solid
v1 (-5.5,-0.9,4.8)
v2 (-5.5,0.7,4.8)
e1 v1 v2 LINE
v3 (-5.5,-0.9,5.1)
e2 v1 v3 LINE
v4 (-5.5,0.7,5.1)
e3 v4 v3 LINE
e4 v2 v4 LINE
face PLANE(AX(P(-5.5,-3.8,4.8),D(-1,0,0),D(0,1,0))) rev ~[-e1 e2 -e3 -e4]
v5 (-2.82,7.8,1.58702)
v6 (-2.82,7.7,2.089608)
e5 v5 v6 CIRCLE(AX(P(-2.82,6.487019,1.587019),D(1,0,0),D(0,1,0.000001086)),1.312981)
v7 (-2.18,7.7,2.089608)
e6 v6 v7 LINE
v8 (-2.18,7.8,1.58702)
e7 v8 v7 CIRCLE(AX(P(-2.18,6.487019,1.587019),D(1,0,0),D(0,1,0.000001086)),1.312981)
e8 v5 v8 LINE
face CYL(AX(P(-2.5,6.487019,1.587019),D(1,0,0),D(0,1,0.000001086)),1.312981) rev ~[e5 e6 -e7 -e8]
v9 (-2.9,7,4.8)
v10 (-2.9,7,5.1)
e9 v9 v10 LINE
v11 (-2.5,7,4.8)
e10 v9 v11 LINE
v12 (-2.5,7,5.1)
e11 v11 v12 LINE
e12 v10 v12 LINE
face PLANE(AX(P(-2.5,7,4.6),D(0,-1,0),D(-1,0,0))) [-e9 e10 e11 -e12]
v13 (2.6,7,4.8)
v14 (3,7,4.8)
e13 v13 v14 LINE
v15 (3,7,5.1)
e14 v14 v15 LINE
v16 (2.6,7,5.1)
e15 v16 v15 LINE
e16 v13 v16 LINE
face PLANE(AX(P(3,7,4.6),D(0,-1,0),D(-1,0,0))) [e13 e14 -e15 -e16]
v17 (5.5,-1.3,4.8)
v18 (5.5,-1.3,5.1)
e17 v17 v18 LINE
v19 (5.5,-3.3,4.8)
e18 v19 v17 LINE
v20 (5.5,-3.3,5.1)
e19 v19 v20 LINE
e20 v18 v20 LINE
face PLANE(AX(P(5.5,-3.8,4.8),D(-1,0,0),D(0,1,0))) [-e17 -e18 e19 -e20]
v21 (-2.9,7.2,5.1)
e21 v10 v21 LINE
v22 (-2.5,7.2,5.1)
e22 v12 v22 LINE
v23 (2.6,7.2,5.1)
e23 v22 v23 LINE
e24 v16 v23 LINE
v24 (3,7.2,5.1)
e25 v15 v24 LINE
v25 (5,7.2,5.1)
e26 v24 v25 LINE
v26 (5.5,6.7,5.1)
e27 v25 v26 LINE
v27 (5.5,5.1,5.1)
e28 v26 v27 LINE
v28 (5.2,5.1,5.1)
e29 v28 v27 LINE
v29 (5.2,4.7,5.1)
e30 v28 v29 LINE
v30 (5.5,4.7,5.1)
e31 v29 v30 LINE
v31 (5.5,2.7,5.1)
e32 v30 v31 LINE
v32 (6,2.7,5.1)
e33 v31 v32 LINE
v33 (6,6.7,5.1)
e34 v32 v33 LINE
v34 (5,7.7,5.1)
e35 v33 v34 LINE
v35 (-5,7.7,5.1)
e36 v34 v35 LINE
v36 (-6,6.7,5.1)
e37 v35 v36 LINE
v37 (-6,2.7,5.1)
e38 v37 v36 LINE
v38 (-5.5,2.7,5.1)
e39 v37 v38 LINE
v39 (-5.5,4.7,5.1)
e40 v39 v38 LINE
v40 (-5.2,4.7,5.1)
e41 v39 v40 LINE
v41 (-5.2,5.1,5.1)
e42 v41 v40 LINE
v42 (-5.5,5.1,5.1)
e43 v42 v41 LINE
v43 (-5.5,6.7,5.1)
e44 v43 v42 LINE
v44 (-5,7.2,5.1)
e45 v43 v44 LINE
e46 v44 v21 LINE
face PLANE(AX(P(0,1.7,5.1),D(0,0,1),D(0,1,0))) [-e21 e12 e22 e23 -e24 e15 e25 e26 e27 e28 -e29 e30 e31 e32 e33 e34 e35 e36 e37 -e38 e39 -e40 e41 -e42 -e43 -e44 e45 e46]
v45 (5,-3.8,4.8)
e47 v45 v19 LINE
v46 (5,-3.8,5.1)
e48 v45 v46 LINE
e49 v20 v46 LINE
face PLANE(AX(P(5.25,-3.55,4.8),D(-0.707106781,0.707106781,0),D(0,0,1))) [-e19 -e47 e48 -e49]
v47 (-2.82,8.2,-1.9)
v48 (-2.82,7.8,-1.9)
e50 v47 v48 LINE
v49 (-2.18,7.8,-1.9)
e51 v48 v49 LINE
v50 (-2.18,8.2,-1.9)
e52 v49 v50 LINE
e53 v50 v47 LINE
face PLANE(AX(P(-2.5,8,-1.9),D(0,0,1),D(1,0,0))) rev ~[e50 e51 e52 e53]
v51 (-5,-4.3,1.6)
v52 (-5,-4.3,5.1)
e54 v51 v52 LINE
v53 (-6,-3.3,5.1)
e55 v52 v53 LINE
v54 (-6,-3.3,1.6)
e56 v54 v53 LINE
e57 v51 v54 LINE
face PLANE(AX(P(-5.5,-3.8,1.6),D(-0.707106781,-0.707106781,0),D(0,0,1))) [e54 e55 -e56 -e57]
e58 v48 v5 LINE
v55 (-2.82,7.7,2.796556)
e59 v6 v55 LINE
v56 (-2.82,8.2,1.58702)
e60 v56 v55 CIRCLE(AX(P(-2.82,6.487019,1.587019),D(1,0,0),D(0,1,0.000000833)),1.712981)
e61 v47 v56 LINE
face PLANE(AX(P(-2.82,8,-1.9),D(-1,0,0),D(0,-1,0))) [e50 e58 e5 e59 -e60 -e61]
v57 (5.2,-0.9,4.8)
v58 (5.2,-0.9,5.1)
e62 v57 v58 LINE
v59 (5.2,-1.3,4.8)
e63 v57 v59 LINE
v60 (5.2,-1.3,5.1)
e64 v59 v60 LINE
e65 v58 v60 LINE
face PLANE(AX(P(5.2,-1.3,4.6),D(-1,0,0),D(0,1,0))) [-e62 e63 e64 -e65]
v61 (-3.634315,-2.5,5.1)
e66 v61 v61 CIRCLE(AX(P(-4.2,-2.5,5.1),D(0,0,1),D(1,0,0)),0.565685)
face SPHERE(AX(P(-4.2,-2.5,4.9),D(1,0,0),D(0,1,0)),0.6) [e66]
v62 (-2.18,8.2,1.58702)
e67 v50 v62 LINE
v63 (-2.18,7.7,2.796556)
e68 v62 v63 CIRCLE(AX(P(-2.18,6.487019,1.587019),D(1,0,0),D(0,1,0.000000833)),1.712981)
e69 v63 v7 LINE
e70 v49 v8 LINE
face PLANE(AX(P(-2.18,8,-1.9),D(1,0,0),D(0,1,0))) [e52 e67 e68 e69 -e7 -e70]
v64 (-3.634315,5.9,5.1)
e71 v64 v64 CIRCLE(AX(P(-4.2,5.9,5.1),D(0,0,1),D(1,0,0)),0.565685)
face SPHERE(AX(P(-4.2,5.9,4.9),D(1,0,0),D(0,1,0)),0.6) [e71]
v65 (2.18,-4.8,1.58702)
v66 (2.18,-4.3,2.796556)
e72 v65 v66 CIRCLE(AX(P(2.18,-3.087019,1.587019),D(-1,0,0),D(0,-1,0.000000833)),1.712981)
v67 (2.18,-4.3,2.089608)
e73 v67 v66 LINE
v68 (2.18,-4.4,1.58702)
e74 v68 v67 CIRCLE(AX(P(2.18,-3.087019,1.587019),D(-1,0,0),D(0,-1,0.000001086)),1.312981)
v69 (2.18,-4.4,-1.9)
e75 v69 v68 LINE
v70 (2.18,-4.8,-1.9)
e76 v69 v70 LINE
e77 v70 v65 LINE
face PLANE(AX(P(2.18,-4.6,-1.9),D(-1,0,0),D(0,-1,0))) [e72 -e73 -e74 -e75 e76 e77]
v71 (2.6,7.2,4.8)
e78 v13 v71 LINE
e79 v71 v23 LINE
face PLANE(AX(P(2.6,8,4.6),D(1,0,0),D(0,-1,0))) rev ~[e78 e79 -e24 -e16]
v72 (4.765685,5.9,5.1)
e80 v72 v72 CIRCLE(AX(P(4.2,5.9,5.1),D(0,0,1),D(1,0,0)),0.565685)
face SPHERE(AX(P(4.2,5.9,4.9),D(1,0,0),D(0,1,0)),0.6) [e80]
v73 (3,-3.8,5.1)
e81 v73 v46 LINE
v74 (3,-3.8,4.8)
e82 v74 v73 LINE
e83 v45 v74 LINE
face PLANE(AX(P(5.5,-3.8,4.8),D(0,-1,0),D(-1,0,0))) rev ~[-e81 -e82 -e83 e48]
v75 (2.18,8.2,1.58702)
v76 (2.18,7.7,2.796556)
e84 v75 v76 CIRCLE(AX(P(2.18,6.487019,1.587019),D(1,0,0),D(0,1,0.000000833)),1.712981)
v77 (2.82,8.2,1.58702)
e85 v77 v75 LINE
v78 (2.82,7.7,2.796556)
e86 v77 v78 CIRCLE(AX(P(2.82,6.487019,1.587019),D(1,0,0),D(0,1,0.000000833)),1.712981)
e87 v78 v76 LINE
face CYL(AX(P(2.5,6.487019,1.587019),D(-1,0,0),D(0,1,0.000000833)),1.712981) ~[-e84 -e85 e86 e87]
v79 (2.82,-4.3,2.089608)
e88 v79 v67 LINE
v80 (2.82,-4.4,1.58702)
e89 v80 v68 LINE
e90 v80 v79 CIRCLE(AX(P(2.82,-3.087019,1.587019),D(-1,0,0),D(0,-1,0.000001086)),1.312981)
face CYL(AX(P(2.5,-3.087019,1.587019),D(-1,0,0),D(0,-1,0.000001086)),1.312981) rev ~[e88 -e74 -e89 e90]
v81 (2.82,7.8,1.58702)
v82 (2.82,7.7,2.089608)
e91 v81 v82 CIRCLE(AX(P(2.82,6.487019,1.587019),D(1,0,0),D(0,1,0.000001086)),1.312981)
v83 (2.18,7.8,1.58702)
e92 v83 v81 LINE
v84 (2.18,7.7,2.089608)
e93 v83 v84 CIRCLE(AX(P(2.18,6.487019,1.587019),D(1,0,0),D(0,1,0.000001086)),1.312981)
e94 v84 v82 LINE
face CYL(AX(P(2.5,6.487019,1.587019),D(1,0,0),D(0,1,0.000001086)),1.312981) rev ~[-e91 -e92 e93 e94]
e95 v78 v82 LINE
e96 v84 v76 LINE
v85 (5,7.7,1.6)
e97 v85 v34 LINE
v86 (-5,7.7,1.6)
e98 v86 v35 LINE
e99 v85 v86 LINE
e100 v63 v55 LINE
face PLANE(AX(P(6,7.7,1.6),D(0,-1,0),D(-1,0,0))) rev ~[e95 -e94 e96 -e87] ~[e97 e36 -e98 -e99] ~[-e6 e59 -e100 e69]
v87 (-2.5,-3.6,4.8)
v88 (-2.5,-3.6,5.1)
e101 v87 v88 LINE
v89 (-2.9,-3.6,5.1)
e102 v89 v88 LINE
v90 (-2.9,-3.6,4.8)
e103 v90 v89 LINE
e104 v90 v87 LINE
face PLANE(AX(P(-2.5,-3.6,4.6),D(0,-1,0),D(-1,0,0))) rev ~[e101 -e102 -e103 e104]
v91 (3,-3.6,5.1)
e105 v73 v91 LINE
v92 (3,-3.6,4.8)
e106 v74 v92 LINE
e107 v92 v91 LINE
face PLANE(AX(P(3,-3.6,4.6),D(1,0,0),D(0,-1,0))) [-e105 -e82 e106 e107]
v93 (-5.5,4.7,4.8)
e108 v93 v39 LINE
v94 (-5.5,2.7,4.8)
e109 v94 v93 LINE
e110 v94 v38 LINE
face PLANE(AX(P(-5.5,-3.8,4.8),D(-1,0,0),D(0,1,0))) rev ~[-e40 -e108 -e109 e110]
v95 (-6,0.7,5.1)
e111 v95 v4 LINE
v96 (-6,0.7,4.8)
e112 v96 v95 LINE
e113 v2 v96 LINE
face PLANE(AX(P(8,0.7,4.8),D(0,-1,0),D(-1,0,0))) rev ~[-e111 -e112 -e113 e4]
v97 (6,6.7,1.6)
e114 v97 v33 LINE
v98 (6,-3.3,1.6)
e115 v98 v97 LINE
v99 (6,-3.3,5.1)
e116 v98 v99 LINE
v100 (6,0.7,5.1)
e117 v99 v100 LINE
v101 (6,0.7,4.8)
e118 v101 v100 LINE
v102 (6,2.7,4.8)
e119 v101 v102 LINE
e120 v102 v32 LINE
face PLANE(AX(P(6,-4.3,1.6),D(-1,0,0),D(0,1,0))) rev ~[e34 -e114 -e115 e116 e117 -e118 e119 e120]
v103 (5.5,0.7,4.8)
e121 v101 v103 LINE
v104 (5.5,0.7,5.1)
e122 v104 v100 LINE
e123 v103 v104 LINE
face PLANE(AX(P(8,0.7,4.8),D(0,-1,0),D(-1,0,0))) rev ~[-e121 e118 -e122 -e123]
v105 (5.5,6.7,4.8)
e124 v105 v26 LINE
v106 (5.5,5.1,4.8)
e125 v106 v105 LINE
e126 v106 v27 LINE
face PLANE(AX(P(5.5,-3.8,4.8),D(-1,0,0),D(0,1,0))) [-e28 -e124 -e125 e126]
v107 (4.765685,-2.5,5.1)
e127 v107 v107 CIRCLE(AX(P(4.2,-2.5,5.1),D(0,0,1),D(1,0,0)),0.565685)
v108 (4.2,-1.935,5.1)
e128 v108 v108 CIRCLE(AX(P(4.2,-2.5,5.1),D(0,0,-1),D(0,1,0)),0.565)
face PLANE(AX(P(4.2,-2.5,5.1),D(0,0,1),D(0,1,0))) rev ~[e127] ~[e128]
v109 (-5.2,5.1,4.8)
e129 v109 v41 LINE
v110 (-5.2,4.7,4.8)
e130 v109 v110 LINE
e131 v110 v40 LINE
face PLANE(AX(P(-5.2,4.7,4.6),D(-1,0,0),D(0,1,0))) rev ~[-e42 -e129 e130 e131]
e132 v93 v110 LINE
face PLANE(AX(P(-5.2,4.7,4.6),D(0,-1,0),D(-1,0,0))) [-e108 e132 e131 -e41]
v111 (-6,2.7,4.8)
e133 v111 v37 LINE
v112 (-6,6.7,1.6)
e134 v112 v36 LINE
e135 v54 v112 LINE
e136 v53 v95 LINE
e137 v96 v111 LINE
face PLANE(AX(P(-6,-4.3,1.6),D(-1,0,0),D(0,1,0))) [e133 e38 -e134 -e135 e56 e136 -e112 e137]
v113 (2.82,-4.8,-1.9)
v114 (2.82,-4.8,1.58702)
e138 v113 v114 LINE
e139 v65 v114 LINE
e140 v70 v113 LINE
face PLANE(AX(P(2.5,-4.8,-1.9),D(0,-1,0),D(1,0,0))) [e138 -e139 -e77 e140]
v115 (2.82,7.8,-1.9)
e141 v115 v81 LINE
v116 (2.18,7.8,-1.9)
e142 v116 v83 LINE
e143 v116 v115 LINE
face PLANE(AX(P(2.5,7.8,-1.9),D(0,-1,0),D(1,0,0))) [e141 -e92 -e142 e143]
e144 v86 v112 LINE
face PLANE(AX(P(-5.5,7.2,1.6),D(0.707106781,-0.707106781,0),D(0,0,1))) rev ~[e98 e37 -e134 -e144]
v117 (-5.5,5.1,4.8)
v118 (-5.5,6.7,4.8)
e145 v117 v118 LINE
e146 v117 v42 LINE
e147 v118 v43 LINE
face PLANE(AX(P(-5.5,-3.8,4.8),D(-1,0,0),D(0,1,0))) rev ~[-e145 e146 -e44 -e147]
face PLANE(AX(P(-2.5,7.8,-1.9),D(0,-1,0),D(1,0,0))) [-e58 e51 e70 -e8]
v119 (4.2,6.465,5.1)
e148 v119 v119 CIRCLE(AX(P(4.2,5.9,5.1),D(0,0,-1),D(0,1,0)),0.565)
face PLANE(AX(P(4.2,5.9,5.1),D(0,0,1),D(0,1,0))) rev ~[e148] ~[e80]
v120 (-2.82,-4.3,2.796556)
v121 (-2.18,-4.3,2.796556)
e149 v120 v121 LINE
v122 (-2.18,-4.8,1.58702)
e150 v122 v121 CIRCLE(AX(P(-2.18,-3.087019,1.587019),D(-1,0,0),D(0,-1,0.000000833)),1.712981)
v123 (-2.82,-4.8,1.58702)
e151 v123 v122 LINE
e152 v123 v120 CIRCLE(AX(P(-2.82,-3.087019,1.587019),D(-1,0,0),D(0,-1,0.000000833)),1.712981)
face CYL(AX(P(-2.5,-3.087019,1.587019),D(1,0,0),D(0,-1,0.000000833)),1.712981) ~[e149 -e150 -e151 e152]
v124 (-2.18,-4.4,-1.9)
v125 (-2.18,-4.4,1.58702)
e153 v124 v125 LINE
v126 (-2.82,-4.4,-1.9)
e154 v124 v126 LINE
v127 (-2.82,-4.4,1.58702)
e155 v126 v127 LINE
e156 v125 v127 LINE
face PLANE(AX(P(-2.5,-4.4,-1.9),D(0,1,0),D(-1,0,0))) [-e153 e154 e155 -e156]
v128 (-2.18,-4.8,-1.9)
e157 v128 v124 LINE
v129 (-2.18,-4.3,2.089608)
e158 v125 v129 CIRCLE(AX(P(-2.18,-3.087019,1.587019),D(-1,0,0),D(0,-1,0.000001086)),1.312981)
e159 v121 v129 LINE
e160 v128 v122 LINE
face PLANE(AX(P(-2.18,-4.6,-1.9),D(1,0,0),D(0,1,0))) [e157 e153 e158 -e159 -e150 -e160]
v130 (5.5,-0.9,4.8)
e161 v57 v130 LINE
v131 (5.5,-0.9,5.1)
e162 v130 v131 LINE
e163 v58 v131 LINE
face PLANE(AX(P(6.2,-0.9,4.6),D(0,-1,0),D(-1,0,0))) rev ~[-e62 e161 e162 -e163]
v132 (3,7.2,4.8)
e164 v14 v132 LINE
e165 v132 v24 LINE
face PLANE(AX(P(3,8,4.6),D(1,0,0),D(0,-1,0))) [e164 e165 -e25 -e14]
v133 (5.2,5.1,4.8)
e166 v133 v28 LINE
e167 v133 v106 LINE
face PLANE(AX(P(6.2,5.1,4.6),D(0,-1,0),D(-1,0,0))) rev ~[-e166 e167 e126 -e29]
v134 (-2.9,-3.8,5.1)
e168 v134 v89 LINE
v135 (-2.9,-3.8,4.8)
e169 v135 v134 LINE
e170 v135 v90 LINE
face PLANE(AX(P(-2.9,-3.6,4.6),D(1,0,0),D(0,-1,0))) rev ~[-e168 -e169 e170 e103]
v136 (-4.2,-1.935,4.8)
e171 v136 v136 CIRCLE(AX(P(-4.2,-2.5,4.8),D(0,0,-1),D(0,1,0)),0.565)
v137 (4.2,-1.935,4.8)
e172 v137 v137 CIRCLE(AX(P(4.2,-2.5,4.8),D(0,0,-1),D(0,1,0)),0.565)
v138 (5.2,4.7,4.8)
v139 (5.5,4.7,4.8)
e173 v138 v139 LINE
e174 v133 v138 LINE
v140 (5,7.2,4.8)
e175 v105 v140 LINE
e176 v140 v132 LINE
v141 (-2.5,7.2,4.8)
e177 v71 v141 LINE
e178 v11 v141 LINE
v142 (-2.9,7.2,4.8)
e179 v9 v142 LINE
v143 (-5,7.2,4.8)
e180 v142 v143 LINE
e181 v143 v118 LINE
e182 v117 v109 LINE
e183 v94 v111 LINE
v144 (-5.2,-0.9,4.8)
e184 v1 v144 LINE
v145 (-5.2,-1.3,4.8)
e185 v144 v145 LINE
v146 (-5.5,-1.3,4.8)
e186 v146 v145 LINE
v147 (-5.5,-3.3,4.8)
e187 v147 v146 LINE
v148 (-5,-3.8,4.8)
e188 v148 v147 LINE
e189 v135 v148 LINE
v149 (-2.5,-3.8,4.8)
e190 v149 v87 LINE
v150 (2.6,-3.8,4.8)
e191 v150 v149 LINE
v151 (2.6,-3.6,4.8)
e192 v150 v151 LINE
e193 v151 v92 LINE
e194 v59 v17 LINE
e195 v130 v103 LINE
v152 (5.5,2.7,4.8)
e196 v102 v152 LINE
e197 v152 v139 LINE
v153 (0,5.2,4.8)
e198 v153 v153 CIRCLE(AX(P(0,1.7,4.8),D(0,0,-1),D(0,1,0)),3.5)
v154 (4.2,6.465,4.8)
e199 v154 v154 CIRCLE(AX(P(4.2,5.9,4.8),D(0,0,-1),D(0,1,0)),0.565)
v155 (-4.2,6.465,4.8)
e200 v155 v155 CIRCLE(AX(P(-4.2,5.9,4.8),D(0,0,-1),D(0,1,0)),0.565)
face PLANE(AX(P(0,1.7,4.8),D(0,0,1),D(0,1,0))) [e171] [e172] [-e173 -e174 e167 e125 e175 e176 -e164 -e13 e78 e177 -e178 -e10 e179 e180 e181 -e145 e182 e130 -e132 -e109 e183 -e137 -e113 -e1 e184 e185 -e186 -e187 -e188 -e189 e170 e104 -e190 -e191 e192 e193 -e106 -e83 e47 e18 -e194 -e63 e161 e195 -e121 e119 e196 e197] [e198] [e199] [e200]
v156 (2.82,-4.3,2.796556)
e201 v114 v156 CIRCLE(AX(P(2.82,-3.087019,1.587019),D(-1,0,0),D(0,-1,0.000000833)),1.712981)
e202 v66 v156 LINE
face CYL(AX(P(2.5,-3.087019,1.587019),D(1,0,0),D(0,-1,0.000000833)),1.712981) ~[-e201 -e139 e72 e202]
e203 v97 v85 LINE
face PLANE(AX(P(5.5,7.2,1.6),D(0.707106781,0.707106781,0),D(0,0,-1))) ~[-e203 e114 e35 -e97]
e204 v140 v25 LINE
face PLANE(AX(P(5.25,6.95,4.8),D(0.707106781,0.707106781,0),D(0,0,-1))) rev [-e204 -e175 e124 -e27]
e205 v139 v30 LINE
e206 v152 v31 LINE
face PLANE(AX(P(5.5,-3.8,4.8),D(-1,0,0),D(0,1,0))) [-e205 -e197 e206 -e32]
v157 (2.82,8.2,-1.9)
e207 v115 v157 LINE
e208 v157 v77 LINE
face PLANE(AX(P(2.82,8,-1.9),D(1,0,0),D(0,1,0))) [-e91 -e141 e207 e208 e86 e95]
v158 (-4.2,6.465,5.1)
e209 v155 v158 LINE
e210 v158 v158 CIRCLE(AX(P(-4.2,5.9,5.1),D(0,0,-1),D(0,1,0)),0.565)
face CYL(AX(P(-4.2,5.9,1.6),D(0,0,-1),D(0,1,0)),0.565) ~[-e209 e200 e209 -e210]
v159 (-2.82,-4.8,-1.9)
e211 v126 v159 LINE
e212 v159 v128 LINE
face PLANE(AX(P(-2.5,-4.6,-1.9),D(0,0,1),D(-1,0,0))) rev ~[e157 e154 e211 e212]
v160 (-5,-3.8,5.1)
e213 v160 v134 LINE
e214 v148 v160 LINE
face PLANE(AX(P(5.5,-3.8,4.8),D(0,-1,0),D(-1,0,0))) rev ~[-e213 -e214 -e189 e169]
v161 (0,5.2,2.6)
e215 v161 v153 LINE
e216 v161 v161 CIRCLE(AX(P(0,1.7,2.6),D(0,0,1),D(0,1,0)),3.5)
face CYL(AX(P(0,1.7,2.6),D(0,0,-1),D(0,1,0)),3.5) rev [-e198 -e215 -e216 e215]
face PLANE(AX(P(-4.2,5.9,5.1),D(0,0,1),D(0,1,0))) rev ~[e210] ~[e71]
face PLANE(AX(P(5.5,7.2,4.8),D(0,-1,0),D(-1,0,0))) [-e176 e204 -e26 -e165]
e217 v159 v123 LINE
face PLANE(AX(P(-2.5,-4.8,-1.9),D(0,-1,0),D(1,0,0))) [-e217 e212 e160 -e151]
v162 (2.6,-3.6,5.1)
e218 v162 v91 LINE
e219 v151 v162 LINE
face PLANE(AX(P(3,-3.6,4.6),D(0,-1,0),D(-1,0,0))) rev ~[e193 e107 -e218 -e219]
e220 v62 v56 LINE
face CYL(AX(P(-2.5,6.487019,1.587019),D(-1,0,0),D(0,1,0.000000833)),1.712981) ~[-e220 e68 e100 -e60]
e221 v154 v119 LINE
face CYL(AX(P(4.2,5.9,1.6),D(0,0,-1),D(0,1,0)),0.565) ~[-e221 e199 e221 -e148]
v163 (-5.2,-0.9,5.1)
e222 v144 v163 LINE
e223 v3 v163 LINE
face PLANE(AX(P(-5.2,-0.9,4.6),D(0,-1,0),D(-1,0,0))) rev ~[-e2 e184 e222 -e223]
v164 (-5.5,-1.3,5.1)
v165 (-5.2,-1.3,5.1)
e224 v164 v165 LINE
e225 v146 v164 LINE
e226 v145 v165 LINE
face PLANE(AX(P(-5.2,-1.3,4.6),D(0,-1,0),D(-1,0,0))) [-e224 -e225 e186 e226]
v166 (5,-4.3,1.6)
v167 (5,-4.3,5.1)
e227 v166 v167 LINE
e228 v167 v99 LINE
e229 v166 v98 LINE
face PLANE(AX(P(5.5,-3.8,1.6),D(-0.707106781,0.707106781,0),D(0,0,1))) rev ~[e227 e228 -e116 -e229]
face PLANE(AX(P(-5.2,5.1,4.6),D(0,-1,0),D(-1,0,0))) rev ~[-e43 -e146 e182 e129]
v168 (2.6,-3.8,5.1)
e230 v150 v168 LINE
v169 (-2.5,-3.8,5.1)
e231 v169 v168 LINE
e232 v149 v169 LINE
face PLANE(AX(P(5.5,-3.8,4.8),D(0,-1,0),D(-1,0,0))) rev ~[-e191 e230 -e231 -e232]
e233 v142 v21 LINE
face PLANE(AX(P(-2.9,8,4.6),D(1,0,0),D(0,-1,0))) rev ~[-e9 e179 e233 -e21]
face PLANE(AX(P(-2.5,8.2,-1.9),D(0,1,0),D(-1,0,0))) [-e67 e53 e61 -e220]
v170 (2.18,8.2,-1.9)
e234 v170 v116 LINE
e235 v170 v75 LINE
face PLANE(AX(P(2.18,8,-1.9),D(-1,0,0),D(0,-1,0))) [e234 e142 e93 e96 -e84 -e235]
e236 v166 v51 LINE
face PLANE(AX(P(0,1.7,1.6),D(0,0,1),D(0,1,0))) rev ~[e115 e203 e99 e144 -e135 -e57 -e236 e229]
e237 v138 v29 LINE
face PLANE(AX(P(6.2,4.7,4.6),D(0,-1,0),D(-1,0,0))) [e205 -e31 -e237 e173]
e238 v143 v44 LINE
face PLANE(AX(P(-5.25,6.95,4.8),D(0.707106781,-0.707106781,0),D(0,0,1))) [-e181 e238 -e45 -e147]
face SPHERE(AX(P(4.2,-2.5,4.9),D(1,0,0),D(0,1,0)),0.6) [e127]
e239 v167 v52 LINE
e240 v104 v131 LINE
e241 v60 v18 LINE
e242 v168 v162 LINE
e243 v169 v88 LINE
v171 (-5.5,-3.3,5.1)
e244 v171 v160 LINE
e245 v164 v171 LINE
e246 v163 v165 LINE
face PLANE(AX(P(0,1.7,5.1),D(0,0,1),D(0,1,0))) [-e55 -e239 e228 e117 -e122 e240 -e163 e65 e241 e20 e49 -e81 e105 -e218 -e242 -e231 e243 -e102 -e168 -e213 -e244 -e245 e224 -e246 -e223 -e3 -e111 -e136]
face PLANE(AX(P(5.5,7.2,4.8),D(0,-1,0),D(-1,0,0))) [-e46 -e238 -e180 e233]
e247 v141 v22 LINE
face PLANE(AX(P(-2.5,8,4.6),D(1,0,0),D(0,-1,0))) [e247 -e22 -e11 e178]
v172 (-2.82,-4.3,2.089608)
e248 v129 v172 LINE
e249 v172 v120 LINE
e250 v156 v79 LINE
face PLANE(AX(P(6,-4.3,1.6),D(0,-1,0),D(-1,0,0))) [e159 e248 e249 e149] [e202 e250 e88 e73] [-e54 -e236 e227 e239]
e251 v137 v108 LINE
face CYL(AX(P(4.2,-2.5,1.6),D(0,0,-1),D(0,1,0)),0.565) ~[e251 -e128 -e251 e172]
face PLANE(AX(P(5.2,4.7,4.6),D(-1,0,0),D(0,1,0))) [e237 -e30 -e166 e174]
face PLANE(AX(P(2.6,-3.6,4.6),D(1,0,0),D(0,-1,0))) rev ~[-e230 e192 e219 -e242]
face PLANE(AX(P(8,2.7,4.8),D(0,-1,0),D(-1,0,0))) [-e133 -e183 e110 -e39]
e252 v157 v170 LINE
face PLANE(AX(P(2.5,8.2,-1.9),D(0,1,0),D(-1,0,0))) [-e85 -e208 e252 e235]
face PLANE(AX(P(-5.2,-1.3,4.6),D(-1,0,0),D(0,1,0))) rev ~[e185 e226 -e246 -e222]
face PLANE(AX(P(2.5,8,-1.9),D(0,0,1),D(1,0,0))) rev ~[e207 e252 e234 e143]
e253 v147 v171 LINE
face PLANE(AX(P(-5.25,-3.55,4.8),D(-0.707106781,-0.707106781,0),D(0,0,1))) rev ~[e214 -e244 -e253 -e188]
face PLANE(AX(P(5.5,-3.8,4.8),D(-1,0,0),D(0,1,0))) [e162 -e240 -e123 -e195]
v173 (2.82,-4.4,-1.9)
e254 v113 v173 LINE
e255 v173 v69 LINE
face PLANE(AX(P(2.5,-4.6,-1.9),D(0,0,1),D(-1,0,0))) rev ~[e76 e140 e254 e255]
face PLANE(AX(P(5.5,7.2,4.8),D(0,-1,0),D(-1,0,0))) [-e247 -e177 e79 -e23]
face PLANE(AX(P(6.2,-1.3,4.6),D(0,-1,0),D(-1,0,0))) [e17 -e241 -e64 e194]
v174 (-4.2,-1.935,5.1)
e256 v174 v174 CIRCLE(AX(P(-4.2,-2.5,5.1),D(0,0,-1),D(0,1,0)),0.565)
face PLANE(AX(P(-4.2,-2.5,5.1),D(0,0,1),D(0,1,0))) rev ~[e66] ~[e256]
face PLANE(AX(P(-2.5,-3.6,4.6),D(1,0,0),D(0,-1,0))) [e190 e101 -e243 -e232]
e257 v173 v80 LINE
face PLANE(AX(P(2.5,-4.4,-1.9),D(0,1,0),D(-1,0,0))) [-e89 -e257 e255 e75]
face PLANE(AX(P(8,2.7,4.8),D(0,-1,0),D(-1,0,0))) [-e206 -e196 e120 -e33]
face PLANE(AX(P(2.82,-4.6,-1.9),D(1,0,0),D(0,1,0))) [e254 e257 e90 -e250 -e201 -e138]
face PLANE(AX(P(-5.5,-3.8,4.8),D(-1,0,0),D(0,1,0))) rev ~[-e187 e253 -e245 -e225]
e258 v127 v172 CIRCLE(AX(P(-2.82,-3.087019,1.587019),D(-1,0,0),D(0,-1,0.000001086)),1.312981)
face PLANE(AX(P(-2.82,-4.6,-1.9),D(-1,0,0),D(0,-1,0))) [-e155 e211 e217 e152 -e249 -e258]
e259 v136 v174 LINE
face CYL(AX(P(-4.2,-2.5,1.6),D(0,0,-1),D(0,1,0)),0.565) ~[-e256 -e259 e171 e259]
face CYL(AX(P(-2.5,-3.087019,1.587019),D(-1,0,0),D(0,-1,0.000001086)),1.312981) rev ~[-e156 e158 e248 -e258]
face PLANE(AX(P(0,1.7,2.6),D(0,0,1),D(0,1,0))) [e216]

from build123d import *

# Parameters (mm, degrees)
SKETCH005_W               = 0.64
SKETCH005_H               = 0.4
SWEEP001_PLACEMENT_ANGLE  = 90
SKETCH010_W               = 0.64
SKETCH010_H               = 0.4
SWEEP002_PLACEMENT_ANGLE  = -90
SKETCH011_W               = 0.64
SKETCH011_H               = 0.4
SWEEP003_PLACEMENT_ANGLE  = -90
CYLINDER002_R             = 3.5
CYLINDER002_DEPTH         = 10
BOX024_W                  = 2
BOX024_H                  = 15
BOX024_DEPTH              = 1
CYLINDER014_R             = 0.6
CYLINDER014_DEPTH         = 0.2
SPHERE003_ANGLE           = 180
SPHERE003_ROLL_ANGLE      = 90
CYLINDER009_R             = 0.6
CYLINDER009_DEPTH         = 0.2
SPHERE_ANGLE              = 180
SPHERE_ROLL_ANGLE         = 90
CYLINDER010_R             = 0.6
CYLINDER010_DEPTH         = 0.2
SPHERE001_ANGLE           = 180
SPHERE001_ROLL_ANGLE      = 90
CYLINDER011_R             = 0.6
CYLINDER011_DEPTH         = 0.2
SPHERE002_ANGLE           = 180
SPHERE002_ROLL_ANGLE      = 90
CYLINDER004_R             = 0.565
CYLINDER004_DEPTH         = 5
CYLINDER005_R             = 0.565
CYLINDER005_DEPTH         = 5
CYLINDER006_R             = 0.565
CYLINDER006_DEPTH         = 5
CYLINDER007_R             = 0.565
CYLINDER007_DEPTH         = 5
BOX008_W                  = 0.4
BOX008_H                  = 1
BOX008_DEPTH              = 1
BOX008_PLACEMENT_ANGLE    = 90
BOX010_W                  = 0.4
BOX010_H                  = 1
BOX010_DEPTH              = 1
BOX010_PLACEMENT_ANGLE    = 90
BOX011_W                  = 0.4
BOX011_H                  = 1
BOX011_DEPTH              = 1
BOX011_PLACEMENT_ANGLE    = 90
BOX007_W                  = 0.4
BOX007_H                  = 1
BOX007_DEPTH              = 1
BOX007_PLACEMENT_ANGLE    = 90
BOX005_W                  = 0.4
BOX005_H                  = 1
BOX005_DEPTH              = 1
BOX002_W                  = 0.4
BOX002_H                  = 1
BOX002_DEPTH              = 1
BOX006_W                  = 0.4
BOX006_H                  = 1
BOX006_DEPTH              = 1
BOX009_W                  = 0.4
BOX009_H                  = 1
BOX009_DEPTH              = 1
BOX004_W                  = 11
BOX004_H                  = 11
BOX004_DEPTH              = 0.4
CHAMFER001_SIZE           = 0.5
BOX003_W                  = 12
BOX003_H                  = 12
BOX003_DEPTH              = 3.5
CHAMFER_SIZE              = 1
SKETCH003_W               = 0.64
SKETCH003_H               = 0.4
SWEEP_PLACEMENT_ANGLE     = 90
FUSION005_PLACEMENT_ANGLE = 90


with BuildPart() as sweep001:
    # Sweep001: sweep along a path in Sketch004
    with BuildLine(Plane.YZ) as sweep001_path:
        Line((0, 0), (0, 3.48702))
        ThreePointArc((0, 3.48702), (-0.443142, 4.556858), (-1.51298, 5))
        Line((-1.51298, 5), (-2, 5))
    # Sketch005 → Sweep001 (sweep)
    with BuildSketch(Plane.XY):
        Rectangle(SKETCH005_W, SKETCH005_H)
    sweep(path=sweep001_path.line)


with BuildPart() as sweep001_1:
    # Sweep001 placement: moved
    add(sweep001.part.moved(Location((-6.3, -2.5, -3.5))).rotate(Axis((-6.3, -2.5, -3.5), (0, 0, 1)), SWEEP001_PLACEMENT_ANGLE))


with BuildPart() as sweep002:
    # Sweep002: sweep along a path in Sketch006
    with BuildLine(Plane.YZ) as sweep002_path:
        Line((0, 0), (0, 3.48702))
        ThreePointArc((0, 3.48702), (-0.443142, 4.556858), (-1.51298, 5))
        Line((-1.51298, 5), (-2, 5))
    # Sketch010 → Sweep002 (sweep)
    with BuildSketch(Plane.XY):
        Rectangle(SKETCH010_W, SKETCH010_H)
    sweep(path=sweep002_path.line)


with BuildPart() as sweep002_1:
    # Sweep002 placement: moved
    add(sweep002.part.moved(Location((6.3, 2.5, -3.5))).rotate(Axis((6.3, 2.5, -3.5), (0, 0, 1)), SWEEP002_PLACEMENT_ANGLE))


with BuildPart() as sweep003:
    # Sweep003: sweep along a path in Sketch009
    with BuildLine(Plane.YZ) as sweep003_path:
        Line((0, 0), (0, 3.48702))
        ThreePointArc((0, 3.48702), (-0.443142, 4.556858), (-1.51298, 5))
        Line((-1.51298, 5), (-2, 5))
    # Sketch011 → Sweep003 (sweep)
    with BuildSketch(Plane.XY):
        Rectangle(SKETCH011_W, SKETCH011_H)
    sweep(path=sweep003_path.line)


with BuildPart() as sweep003_1:
    # Sweep003 placement: moved
    add(sweep003.part.moved(Location((6.3, -2.5, -3.5))).rotate(Axis((6.3, -2.5, -3.5), (0, 0, 1)), SWEEP003_PLACEMENT_ANGLE))


with BuildPart() as cilindro014:
    # Cylinder002 → Cylinder002 (new body)
    with BuildSketch(Plane.XY.offset(1)):
        Circle(CYLINDER002_R)
    extrude(amount=CYLINDER002_DEPTH)


with BuildPart() as cubo004:
    # Box024 → Box024 (new body)
    with BuildSketch(Plane(origin=(-1, -8, 3.2), x_dir=(1, 0, 0), z_dir=(0, 0, 1))):
        with Locations((1, 7.5)):
            Rectangle(BOX024_W, BOX024_H)
    extrude(amount=BOX024_DEPTH)


with BuildPart() as cilindro010:
    # Cylinder014 → Cylinder014 (new body)
    with BuildSketch(Plane.XY):
        Circle(CYLINDER014_R)
    extrude(amount=CYLINDER014_DEPTH)


with BuildPart() as esfera:
    # Sphere003 → Sphere003 (revolve)
    with BuildSketch(Plane.XZ):
        with BuildLine():
            ThreePointArc((0, -0.6), (0.6, 0), (0, 0.6))
            Line((0, 0.6), (0, -0.6))
        make_face()
    revolve(axis=Axis((0, 0, 0), (0, 0, 1)), revolution_arc=SPHERE003_ANGLE)


with BuildPart() as esfera_1:
    # Sphere003 roll: moved
    add(esfera.part.rotate(Axis((0, 0, 0), (1, 0, 0)), SPHERE003_ROLL_ANGLE))


with BuildPart() as esfera_2:
    # Sphere003 placement: moved
    add(esfera_1.part)

    # Cut031: cut Cilindro010
    add(cilindro010.part, mode=Mode.SUBTRACT)


with BuildPart() as esfera_3:
    # Cut031 placement: moved
    add(esfera_2.part.moved(Location((-4.2, 4.2, 3.3))))


with BuildPart() as cilindro013:
    # Cylinder009 → Cylinder009 (new body)
    with BuildSketch(Plane.XY):
        Circle(CYLINDER009_R)
    extrude(amount=CYLINDER009_DEPTH)


with BuildPart() as esfera003:
    # Sphere → Sphere (revolve)
    with BuildSketch(Plane.XZ):
        with BuildLine():
            ThreePointArc((0, -0.6), (0.6, 0), (0, 0.6))
            Line((0, 0.6), (0, -0.6))
        make_face()
    revolve(axis=Axis((0, 0, 0), (0, 0, 1)), revolution_arc=SPHERE_ANGLE)


with BuildPart() as esfera003_1:
    # Sphere roll: moved
    add(esfera003.part.rotate(Axis((0, 0, 0), (1, 0, 0)), SPHERE_ROLL_ANGLE))


with BuildPart() as esfera003_2:
    # Sphere placement: moved
    add(esfera003_1.part)

    # Cut024: cut Cilindro013
    add(cilindro013.part, mode=Mode.SUBTRACT)


with BuildPart() as esfera003_3:
    # Cut024 placement: moved
    add(esfera003_2.part.moved(Location((-4.2, -4.2, 3.3))))


with BuildPart() as cilindro012:
    # Cylinder010 → Cylinder010 (new body)
    with BuildSketch(Plane.XY):
        Circle(CYLINDER010_R)
    extrude(amount=CYLINDER010_DEPTH)


with BuildPart() as esfera002:
    # Sphere001 → Sphere001 (revolve)
    with BuildSketch(Plane.XZ):
        with BuildLine():
            ThreePointArc((0, -0.6), (0.6, 0), (0, 0.6))
            Line((0, 0.6), (0, -0.6))
        make_face()
    revolve(axis=Axis((0, 0, 0), (0, 0, 1)), revolution_arc=SPHERE001_ANGLE)


with BuildPart() as esfera002_1:
    # Sphere001 roll: moved
    add(esfera002.part.rotate(Axis((0, 0, 0), (1, 0, 0)), SPHERE001_ROLL_ANGLE))


with BuildPart() as esfera002_2:
    # Sphere001 placement: moved
    add(esfera002_1.part)

    # Cut025: cut Cilindro012
    add(cilindro012.part, mode=Mode.SUBTRACT)


with BuildPart() as esfera002_3:
    # Cut025 placement: moved
    add(esfera002_2.part.moved(Location((4.2, -4.2, 3.3))))


with BuildPart() as cilindro011:
    # Cylinder011 → Cylinder011 (new body)
    with BuildSketch(Plane.XY):
        Circle(CYLINDER011_R)
    extrude(amount=CYLINDER011_DEPTH)


with BuildPart() as esfera001:
    # Sphere002 → Sphere002 (revolve)
    with BuildSketch(Plane.XZ):
        with BuildLine():
            ThreePointArc((0, -0.6), (0.6, 0), (0, 0.6))
            Line((0, 0.6), (0, -0.6))
        make_face()
    revolve(axis=Axis((0, 0, 0), (0, 0, 1)), revolution_arc=SPHERE002_ANGLE)


with BuildPart() as esfera001_1:
    # Sphere002 roll: moved
    add(esfera001.part.rotate(Axis((0, 0, 0), (1, 0, 0)), SPHERE002_ROLL_ANGLE))


with BuildPart() as esfera001_2:
    # Sphere002 placement: moved
    add(esfera001_1.part)

    # Cut026: cut Cilindro011
    add(cilindro011.part, mode=Mode.SUBTRACT)


with BuildPart() as esfera001_3:
    # Cut026 placement: moved
    add(esfera001_2.part.moved(Location((4.2, 4.2, 3.3))))


with BuildPart() as cilindro005:
    # Cylinder004 → Cylinder004 (new body)
    with BuildSketch(Plane(origin=(4.2, -4.2, 0), x_dir=(1, 0, 0), z_dir=(0, 0, 1))):
        Circle(CYLINDER004_R)
    extrude(amount=CYLINDER004_DEPTH)


with BuildPart() as cilindro015:
    # Cylinder005 → Cylinder005 (new body)
    with BuildSketch(Plane(origin=(-4.2, -4.2, 0), x_dir=(1, 0, 0), z_dir=(0, 0, 1))):
        Circle(CYLINDER005_R)
    extrude(amount=CYLINDER005_DEPTH)


with BuildPart() as cilindro003:
    # Cylinder006 → Cylinder006 (new body)
    with BuildSketch(Plane(origin=(4.2, 4.2, 0), x_dir=(1, 0, 0), z_dir=(0, 0, 1))):
        Circle(CYLINDER006_R)
    extrude(amount=CYLINDER006_DEPTH)


with BuildPart() as cilindro002:
    # Cylinder007 → Cylinder007 (new body)
    with BuildSketch(Plane(origin=(-4.2, 4.2, 0), x_dir=(1, 0, 0), z_dir=(0, 0, 1))):
        Circle(CYLINDER007_R)
    extrude(amount=CYLINDER007_DEPTH)


with BuildPart() as pesta_adinf:
    # Box008 → Box008 (new body)
    with BuildSketch(Plane.XY):
        with Locations((0.2, 0.5)):
            Rectangle(BOX008_W, BOX008_H)
    extrude(amount=BOX008_DEPTH)


with BuildPart() as pesta_adinf_1:
    # Box008 placement: moved
    add(pesta_adinf.part.moved(Location((6.3, -3, 3))).rotate(Axis((6.3, -3, 3), (0, 0, 1)), BOX008_PLACEMENT_ANGLE))


with BuildPart() as pesta_ads:
    # Box010 → Box010 (new body)
    with BuildSketch(Plane.XY):
        with Locations((0.2, 0.5)):
            Rectangle(BOX010_W, BOX010_H)
    extrude(amount=BOX010_DEPTH)


with BuildPart() as pesta_ads_1:
    # Box010 placement: moved
    add(pesta_ads.part.moved(Location((6.3, 2.5, 3))).rotate(Axis((6.3, 2.5, 3), (0, 0, 1)), BOX010_PLACEMENT_ANGLE))


with BuildPart() as pesta_aiinf:
    # Box011 → Box011 (new body)
    with BuildSketch(Plane.XY):
        with Locations((0.2, 0.5)):
            Rectangle(BOX011_W, BOX011_H)
    extrude(amount=BOX011_DEPTH)


with BuildPart() as pesta_aiinf_1:
    # Box011 placement: moved
    add(pesta_aiinf.part.moved(Location((-5.3, -3, 3))).rotate(Axis((-5.3, -3, 3), (0, 0, 1)), BOX011_PLACEMENT_ANGLE))


with BuildPart() as pesta_ais:
    # Box007 → Box007 (new body)
    with BuildSketch(Plane.XY):
        with Locations((0.2, 0.5)):
            Rectangle(BOX007_W, BOX007_H)
    extrude(amount=BOX007_DEPTH)


with BuildPart() as pesta_ais_1:
    # Box007 placement: moved
    add(pesta_ais.part.moved(Location((-5.3, 2.5, 3))).rotate(Axis((-5.3, 2.5, 3), (0, 0, 1)), BOX007_PLACEMENT_ANGLE))


with BuildPart() as pesta_aid:
    # Box005 → Box005 (new body)
    with BuildSketch(Plane(origin=(3, -6.2, 3), x_dir=(1, 0, 0), z_dir=(0, 0, 1))):
        with Locations((0.2, 0.5)):
            Rectangle(BOX005_W, BOX005_H)
    extrude(amount=BOX005_DEPTH)


with BuildPart() as pesta_aii:
    # Box002 → Box002 (new body)
    with BuildSketch(Plane(origin=(-3, -6.2, 3), x_dir=(1, 0, 0), z_dir=(0, 0, 1))):
        with Locations((0.2, 0.5)):
            Rectangle(BOX002_W, BOX002_H)
    extrude(amount=BOX002_DEPTH)


with BuildPart() as pesta_asd:
    # Box006 → Box006 (new body)
    with BuildSketch(Plane(origin=(3, 5.2, 3), x_dir=(1, 0, 0), z_dir=(0, 0, 1))):
        with Locations((0.2, 0.5)):
            Rectangle(BOX006_W, BOX006_H)
    extrude(amount=BOX006_DEPTH)


with BuildPart() as pesta_asi:
    # Box009 → Box009 (new body)
    with BuildSketch(Plane(origin=(-3, 5.2, 3), x_dir=(1, 0, 0), z_dir=(0, 0, 1))):
        with Locations((0.2, 0.5)):
            Rectangle(BOX009_W, BOX009_H)
    extrude(amount=BOX009_DEPTH)


with BuildPart() as chapadiferencia:
    # Box004 → Box004 (new body)
    with BuildSketch(Plane(origin=(-5.5, -5.5, 3.6), x_dir=(1, 0, 0), z_dir=(0, 0, 1))):
        with Locations((5.5, 5.5)):
            Rectangle(BOX004_W, BOX004_H)
    extrude(amount=BOX004_DEPTH)

    # Chamfer001
    chamfer001_edges = [chapadiferencia.edges().sort_by_distance(p)[0] for p in [
        (-5.5, -5.5, 3.8),
        (-5.5, 5.5, 3.8),
        (5.5, -5.5, 3.8),
        (5.5, 5.5, 3.8),
    ]]
    chamfer(chamfer001_edges, length=CHAMFER001_SIZE)


with BuildPart() as chapadiferencia_1:
    # Chamfer001 placement: moved
    add(chapadiferencia.part.moved(Location((0, 0, -0.4))))

    # Cut020: cut pestañaSI
    add(pesta_asi.part, mode=Mode.SUBTRACT)

    # Cut019: cut pestañaSD
    add(pesta_asd.part, mode=Mode.SUBTRACT)

    # Cut018: cut pestañaII
    add(pesta_aii.part, mode=Mode.SUBTRACT)

    # Cut017: cut pestañaID
    add(pesta_aid.part, mode=Mode.SUBTRACT)

    # Cut016: cut pestañaIS
    add(pesta_ais_1.part, mode=Mode.SUBTRACT)

    # Cut013: cut pestañaIInf
    add(pesta_aiinf_1.part, mode=Mode.SUBTRACT)

    # Cut014: cut pestañaDS
    add(pesta_ads_1.part, mode=Mode.SUBTRACT)

    # Cut015: cut pestañaDInf
    add(pesta_adinf_1.part, mode=Mode.SUBTRACT)

    # Cut007: cut Cilindro002
    add(cilindro002.part, mode=Mode.SUBTRACT)

    # Cut008: cut Cilindro003
    add(cilindro003.part, mode=Mode.SUBTRACT)

    # Cut012: cut Cilindro015
    add(cilindro015.part, mode=Mode.SUBTRACT)

    # Cut011: cut Cilindro005
    add(cilindro005.part, mode=Mode.SUBTRACT)


with BuildPart() as cut033:
    # Box003 → Box003 (new body)
    with BuildSketch(Plane.XY):
        with Locations((6, 6)):
            Rectangle(BOX003_W, BOX003_H)
    extrude(amount=BOX003_DEPTH)

    # Chamfer
    chamfer_edges = [cut033.edges().sort_by_distance(p)[0] for p in [
        (0, 0, 1.75),
        (0, 12, 1.75),
        (12, 0, 1.75),
        (12, 12, 1.75),
    ]]
    chamfer(chamfer_edges, length=CHAMFER_SIZE)


with BuildPart() as cut033_1:
    # Chamfer placement: moved
    add(cut033.part.moved(Location((-6, -6, 0))))

    # Cut030: cut ChapaDiferencia
    add(chapadiferencia_1.part, mode=Mode.SUBTRACT)

    # Fusion004: union esfera, esfera003, esfera002, esfera001
    add(esfera_3.part)
    add(esfera003_3.part)
    add(esfera002_3.part)
    add(esfera001_3.part)

    # Cut035: cut Cubo004
    add(cubo004.part, mode=Mode.SUBTRACT)

    # Cut033: cut Cilindro014
    add(cilindro014.part, mode=Mode.SUBTRACT)


with BuildPart() as fusion005:
    # Sweep: sweep along a path in Sketch002
    with BuildLine(Plane.YZ) as sweep_path:
        Line((0, 0), (0, 3.48702))
        ThreePointArc((0, 3.48702), (-0.443142, 4.556858), (-1.51298, 5))
        Line((-1.51298, 5), (-2, 5))
    # Sketch003 → Sweep (sweep)
    with BuildSketch(Plane.XY):
        Rectangle(SKETCH003_W, SKETCH003_H)
    sweep(path=sweep_path.line)


with BuildPart() as fusion005_1:
    # Sweep placement: moved
    add(fusion005.part.moved(Location((-6.3, 2.5, -3.5))).rotate(Axis((-6.3, 2.5, -3.5), (0, 0, 1)), SWEEP_PLACEMENT_ANGLE))

    # Fusion005: union Sweep001, Sweep002, Sweep003, Cut033
    add(sweep001_1.part)
    add(sweep002_1.part)
    add(sweep003_1.part)
    add(cut033_1.part)


with BuildPart() as fusion005_2:
    # Fusion005 placement: moved
    add(fusion005_1.part.moved(Location((0, 1.7, 1.6))).rotate(Axis((0, 1.7, 1.6), (0, 0, 1)), FUSION005_PLACEMENT_ANGLE))


solid = fusion005_2.part
